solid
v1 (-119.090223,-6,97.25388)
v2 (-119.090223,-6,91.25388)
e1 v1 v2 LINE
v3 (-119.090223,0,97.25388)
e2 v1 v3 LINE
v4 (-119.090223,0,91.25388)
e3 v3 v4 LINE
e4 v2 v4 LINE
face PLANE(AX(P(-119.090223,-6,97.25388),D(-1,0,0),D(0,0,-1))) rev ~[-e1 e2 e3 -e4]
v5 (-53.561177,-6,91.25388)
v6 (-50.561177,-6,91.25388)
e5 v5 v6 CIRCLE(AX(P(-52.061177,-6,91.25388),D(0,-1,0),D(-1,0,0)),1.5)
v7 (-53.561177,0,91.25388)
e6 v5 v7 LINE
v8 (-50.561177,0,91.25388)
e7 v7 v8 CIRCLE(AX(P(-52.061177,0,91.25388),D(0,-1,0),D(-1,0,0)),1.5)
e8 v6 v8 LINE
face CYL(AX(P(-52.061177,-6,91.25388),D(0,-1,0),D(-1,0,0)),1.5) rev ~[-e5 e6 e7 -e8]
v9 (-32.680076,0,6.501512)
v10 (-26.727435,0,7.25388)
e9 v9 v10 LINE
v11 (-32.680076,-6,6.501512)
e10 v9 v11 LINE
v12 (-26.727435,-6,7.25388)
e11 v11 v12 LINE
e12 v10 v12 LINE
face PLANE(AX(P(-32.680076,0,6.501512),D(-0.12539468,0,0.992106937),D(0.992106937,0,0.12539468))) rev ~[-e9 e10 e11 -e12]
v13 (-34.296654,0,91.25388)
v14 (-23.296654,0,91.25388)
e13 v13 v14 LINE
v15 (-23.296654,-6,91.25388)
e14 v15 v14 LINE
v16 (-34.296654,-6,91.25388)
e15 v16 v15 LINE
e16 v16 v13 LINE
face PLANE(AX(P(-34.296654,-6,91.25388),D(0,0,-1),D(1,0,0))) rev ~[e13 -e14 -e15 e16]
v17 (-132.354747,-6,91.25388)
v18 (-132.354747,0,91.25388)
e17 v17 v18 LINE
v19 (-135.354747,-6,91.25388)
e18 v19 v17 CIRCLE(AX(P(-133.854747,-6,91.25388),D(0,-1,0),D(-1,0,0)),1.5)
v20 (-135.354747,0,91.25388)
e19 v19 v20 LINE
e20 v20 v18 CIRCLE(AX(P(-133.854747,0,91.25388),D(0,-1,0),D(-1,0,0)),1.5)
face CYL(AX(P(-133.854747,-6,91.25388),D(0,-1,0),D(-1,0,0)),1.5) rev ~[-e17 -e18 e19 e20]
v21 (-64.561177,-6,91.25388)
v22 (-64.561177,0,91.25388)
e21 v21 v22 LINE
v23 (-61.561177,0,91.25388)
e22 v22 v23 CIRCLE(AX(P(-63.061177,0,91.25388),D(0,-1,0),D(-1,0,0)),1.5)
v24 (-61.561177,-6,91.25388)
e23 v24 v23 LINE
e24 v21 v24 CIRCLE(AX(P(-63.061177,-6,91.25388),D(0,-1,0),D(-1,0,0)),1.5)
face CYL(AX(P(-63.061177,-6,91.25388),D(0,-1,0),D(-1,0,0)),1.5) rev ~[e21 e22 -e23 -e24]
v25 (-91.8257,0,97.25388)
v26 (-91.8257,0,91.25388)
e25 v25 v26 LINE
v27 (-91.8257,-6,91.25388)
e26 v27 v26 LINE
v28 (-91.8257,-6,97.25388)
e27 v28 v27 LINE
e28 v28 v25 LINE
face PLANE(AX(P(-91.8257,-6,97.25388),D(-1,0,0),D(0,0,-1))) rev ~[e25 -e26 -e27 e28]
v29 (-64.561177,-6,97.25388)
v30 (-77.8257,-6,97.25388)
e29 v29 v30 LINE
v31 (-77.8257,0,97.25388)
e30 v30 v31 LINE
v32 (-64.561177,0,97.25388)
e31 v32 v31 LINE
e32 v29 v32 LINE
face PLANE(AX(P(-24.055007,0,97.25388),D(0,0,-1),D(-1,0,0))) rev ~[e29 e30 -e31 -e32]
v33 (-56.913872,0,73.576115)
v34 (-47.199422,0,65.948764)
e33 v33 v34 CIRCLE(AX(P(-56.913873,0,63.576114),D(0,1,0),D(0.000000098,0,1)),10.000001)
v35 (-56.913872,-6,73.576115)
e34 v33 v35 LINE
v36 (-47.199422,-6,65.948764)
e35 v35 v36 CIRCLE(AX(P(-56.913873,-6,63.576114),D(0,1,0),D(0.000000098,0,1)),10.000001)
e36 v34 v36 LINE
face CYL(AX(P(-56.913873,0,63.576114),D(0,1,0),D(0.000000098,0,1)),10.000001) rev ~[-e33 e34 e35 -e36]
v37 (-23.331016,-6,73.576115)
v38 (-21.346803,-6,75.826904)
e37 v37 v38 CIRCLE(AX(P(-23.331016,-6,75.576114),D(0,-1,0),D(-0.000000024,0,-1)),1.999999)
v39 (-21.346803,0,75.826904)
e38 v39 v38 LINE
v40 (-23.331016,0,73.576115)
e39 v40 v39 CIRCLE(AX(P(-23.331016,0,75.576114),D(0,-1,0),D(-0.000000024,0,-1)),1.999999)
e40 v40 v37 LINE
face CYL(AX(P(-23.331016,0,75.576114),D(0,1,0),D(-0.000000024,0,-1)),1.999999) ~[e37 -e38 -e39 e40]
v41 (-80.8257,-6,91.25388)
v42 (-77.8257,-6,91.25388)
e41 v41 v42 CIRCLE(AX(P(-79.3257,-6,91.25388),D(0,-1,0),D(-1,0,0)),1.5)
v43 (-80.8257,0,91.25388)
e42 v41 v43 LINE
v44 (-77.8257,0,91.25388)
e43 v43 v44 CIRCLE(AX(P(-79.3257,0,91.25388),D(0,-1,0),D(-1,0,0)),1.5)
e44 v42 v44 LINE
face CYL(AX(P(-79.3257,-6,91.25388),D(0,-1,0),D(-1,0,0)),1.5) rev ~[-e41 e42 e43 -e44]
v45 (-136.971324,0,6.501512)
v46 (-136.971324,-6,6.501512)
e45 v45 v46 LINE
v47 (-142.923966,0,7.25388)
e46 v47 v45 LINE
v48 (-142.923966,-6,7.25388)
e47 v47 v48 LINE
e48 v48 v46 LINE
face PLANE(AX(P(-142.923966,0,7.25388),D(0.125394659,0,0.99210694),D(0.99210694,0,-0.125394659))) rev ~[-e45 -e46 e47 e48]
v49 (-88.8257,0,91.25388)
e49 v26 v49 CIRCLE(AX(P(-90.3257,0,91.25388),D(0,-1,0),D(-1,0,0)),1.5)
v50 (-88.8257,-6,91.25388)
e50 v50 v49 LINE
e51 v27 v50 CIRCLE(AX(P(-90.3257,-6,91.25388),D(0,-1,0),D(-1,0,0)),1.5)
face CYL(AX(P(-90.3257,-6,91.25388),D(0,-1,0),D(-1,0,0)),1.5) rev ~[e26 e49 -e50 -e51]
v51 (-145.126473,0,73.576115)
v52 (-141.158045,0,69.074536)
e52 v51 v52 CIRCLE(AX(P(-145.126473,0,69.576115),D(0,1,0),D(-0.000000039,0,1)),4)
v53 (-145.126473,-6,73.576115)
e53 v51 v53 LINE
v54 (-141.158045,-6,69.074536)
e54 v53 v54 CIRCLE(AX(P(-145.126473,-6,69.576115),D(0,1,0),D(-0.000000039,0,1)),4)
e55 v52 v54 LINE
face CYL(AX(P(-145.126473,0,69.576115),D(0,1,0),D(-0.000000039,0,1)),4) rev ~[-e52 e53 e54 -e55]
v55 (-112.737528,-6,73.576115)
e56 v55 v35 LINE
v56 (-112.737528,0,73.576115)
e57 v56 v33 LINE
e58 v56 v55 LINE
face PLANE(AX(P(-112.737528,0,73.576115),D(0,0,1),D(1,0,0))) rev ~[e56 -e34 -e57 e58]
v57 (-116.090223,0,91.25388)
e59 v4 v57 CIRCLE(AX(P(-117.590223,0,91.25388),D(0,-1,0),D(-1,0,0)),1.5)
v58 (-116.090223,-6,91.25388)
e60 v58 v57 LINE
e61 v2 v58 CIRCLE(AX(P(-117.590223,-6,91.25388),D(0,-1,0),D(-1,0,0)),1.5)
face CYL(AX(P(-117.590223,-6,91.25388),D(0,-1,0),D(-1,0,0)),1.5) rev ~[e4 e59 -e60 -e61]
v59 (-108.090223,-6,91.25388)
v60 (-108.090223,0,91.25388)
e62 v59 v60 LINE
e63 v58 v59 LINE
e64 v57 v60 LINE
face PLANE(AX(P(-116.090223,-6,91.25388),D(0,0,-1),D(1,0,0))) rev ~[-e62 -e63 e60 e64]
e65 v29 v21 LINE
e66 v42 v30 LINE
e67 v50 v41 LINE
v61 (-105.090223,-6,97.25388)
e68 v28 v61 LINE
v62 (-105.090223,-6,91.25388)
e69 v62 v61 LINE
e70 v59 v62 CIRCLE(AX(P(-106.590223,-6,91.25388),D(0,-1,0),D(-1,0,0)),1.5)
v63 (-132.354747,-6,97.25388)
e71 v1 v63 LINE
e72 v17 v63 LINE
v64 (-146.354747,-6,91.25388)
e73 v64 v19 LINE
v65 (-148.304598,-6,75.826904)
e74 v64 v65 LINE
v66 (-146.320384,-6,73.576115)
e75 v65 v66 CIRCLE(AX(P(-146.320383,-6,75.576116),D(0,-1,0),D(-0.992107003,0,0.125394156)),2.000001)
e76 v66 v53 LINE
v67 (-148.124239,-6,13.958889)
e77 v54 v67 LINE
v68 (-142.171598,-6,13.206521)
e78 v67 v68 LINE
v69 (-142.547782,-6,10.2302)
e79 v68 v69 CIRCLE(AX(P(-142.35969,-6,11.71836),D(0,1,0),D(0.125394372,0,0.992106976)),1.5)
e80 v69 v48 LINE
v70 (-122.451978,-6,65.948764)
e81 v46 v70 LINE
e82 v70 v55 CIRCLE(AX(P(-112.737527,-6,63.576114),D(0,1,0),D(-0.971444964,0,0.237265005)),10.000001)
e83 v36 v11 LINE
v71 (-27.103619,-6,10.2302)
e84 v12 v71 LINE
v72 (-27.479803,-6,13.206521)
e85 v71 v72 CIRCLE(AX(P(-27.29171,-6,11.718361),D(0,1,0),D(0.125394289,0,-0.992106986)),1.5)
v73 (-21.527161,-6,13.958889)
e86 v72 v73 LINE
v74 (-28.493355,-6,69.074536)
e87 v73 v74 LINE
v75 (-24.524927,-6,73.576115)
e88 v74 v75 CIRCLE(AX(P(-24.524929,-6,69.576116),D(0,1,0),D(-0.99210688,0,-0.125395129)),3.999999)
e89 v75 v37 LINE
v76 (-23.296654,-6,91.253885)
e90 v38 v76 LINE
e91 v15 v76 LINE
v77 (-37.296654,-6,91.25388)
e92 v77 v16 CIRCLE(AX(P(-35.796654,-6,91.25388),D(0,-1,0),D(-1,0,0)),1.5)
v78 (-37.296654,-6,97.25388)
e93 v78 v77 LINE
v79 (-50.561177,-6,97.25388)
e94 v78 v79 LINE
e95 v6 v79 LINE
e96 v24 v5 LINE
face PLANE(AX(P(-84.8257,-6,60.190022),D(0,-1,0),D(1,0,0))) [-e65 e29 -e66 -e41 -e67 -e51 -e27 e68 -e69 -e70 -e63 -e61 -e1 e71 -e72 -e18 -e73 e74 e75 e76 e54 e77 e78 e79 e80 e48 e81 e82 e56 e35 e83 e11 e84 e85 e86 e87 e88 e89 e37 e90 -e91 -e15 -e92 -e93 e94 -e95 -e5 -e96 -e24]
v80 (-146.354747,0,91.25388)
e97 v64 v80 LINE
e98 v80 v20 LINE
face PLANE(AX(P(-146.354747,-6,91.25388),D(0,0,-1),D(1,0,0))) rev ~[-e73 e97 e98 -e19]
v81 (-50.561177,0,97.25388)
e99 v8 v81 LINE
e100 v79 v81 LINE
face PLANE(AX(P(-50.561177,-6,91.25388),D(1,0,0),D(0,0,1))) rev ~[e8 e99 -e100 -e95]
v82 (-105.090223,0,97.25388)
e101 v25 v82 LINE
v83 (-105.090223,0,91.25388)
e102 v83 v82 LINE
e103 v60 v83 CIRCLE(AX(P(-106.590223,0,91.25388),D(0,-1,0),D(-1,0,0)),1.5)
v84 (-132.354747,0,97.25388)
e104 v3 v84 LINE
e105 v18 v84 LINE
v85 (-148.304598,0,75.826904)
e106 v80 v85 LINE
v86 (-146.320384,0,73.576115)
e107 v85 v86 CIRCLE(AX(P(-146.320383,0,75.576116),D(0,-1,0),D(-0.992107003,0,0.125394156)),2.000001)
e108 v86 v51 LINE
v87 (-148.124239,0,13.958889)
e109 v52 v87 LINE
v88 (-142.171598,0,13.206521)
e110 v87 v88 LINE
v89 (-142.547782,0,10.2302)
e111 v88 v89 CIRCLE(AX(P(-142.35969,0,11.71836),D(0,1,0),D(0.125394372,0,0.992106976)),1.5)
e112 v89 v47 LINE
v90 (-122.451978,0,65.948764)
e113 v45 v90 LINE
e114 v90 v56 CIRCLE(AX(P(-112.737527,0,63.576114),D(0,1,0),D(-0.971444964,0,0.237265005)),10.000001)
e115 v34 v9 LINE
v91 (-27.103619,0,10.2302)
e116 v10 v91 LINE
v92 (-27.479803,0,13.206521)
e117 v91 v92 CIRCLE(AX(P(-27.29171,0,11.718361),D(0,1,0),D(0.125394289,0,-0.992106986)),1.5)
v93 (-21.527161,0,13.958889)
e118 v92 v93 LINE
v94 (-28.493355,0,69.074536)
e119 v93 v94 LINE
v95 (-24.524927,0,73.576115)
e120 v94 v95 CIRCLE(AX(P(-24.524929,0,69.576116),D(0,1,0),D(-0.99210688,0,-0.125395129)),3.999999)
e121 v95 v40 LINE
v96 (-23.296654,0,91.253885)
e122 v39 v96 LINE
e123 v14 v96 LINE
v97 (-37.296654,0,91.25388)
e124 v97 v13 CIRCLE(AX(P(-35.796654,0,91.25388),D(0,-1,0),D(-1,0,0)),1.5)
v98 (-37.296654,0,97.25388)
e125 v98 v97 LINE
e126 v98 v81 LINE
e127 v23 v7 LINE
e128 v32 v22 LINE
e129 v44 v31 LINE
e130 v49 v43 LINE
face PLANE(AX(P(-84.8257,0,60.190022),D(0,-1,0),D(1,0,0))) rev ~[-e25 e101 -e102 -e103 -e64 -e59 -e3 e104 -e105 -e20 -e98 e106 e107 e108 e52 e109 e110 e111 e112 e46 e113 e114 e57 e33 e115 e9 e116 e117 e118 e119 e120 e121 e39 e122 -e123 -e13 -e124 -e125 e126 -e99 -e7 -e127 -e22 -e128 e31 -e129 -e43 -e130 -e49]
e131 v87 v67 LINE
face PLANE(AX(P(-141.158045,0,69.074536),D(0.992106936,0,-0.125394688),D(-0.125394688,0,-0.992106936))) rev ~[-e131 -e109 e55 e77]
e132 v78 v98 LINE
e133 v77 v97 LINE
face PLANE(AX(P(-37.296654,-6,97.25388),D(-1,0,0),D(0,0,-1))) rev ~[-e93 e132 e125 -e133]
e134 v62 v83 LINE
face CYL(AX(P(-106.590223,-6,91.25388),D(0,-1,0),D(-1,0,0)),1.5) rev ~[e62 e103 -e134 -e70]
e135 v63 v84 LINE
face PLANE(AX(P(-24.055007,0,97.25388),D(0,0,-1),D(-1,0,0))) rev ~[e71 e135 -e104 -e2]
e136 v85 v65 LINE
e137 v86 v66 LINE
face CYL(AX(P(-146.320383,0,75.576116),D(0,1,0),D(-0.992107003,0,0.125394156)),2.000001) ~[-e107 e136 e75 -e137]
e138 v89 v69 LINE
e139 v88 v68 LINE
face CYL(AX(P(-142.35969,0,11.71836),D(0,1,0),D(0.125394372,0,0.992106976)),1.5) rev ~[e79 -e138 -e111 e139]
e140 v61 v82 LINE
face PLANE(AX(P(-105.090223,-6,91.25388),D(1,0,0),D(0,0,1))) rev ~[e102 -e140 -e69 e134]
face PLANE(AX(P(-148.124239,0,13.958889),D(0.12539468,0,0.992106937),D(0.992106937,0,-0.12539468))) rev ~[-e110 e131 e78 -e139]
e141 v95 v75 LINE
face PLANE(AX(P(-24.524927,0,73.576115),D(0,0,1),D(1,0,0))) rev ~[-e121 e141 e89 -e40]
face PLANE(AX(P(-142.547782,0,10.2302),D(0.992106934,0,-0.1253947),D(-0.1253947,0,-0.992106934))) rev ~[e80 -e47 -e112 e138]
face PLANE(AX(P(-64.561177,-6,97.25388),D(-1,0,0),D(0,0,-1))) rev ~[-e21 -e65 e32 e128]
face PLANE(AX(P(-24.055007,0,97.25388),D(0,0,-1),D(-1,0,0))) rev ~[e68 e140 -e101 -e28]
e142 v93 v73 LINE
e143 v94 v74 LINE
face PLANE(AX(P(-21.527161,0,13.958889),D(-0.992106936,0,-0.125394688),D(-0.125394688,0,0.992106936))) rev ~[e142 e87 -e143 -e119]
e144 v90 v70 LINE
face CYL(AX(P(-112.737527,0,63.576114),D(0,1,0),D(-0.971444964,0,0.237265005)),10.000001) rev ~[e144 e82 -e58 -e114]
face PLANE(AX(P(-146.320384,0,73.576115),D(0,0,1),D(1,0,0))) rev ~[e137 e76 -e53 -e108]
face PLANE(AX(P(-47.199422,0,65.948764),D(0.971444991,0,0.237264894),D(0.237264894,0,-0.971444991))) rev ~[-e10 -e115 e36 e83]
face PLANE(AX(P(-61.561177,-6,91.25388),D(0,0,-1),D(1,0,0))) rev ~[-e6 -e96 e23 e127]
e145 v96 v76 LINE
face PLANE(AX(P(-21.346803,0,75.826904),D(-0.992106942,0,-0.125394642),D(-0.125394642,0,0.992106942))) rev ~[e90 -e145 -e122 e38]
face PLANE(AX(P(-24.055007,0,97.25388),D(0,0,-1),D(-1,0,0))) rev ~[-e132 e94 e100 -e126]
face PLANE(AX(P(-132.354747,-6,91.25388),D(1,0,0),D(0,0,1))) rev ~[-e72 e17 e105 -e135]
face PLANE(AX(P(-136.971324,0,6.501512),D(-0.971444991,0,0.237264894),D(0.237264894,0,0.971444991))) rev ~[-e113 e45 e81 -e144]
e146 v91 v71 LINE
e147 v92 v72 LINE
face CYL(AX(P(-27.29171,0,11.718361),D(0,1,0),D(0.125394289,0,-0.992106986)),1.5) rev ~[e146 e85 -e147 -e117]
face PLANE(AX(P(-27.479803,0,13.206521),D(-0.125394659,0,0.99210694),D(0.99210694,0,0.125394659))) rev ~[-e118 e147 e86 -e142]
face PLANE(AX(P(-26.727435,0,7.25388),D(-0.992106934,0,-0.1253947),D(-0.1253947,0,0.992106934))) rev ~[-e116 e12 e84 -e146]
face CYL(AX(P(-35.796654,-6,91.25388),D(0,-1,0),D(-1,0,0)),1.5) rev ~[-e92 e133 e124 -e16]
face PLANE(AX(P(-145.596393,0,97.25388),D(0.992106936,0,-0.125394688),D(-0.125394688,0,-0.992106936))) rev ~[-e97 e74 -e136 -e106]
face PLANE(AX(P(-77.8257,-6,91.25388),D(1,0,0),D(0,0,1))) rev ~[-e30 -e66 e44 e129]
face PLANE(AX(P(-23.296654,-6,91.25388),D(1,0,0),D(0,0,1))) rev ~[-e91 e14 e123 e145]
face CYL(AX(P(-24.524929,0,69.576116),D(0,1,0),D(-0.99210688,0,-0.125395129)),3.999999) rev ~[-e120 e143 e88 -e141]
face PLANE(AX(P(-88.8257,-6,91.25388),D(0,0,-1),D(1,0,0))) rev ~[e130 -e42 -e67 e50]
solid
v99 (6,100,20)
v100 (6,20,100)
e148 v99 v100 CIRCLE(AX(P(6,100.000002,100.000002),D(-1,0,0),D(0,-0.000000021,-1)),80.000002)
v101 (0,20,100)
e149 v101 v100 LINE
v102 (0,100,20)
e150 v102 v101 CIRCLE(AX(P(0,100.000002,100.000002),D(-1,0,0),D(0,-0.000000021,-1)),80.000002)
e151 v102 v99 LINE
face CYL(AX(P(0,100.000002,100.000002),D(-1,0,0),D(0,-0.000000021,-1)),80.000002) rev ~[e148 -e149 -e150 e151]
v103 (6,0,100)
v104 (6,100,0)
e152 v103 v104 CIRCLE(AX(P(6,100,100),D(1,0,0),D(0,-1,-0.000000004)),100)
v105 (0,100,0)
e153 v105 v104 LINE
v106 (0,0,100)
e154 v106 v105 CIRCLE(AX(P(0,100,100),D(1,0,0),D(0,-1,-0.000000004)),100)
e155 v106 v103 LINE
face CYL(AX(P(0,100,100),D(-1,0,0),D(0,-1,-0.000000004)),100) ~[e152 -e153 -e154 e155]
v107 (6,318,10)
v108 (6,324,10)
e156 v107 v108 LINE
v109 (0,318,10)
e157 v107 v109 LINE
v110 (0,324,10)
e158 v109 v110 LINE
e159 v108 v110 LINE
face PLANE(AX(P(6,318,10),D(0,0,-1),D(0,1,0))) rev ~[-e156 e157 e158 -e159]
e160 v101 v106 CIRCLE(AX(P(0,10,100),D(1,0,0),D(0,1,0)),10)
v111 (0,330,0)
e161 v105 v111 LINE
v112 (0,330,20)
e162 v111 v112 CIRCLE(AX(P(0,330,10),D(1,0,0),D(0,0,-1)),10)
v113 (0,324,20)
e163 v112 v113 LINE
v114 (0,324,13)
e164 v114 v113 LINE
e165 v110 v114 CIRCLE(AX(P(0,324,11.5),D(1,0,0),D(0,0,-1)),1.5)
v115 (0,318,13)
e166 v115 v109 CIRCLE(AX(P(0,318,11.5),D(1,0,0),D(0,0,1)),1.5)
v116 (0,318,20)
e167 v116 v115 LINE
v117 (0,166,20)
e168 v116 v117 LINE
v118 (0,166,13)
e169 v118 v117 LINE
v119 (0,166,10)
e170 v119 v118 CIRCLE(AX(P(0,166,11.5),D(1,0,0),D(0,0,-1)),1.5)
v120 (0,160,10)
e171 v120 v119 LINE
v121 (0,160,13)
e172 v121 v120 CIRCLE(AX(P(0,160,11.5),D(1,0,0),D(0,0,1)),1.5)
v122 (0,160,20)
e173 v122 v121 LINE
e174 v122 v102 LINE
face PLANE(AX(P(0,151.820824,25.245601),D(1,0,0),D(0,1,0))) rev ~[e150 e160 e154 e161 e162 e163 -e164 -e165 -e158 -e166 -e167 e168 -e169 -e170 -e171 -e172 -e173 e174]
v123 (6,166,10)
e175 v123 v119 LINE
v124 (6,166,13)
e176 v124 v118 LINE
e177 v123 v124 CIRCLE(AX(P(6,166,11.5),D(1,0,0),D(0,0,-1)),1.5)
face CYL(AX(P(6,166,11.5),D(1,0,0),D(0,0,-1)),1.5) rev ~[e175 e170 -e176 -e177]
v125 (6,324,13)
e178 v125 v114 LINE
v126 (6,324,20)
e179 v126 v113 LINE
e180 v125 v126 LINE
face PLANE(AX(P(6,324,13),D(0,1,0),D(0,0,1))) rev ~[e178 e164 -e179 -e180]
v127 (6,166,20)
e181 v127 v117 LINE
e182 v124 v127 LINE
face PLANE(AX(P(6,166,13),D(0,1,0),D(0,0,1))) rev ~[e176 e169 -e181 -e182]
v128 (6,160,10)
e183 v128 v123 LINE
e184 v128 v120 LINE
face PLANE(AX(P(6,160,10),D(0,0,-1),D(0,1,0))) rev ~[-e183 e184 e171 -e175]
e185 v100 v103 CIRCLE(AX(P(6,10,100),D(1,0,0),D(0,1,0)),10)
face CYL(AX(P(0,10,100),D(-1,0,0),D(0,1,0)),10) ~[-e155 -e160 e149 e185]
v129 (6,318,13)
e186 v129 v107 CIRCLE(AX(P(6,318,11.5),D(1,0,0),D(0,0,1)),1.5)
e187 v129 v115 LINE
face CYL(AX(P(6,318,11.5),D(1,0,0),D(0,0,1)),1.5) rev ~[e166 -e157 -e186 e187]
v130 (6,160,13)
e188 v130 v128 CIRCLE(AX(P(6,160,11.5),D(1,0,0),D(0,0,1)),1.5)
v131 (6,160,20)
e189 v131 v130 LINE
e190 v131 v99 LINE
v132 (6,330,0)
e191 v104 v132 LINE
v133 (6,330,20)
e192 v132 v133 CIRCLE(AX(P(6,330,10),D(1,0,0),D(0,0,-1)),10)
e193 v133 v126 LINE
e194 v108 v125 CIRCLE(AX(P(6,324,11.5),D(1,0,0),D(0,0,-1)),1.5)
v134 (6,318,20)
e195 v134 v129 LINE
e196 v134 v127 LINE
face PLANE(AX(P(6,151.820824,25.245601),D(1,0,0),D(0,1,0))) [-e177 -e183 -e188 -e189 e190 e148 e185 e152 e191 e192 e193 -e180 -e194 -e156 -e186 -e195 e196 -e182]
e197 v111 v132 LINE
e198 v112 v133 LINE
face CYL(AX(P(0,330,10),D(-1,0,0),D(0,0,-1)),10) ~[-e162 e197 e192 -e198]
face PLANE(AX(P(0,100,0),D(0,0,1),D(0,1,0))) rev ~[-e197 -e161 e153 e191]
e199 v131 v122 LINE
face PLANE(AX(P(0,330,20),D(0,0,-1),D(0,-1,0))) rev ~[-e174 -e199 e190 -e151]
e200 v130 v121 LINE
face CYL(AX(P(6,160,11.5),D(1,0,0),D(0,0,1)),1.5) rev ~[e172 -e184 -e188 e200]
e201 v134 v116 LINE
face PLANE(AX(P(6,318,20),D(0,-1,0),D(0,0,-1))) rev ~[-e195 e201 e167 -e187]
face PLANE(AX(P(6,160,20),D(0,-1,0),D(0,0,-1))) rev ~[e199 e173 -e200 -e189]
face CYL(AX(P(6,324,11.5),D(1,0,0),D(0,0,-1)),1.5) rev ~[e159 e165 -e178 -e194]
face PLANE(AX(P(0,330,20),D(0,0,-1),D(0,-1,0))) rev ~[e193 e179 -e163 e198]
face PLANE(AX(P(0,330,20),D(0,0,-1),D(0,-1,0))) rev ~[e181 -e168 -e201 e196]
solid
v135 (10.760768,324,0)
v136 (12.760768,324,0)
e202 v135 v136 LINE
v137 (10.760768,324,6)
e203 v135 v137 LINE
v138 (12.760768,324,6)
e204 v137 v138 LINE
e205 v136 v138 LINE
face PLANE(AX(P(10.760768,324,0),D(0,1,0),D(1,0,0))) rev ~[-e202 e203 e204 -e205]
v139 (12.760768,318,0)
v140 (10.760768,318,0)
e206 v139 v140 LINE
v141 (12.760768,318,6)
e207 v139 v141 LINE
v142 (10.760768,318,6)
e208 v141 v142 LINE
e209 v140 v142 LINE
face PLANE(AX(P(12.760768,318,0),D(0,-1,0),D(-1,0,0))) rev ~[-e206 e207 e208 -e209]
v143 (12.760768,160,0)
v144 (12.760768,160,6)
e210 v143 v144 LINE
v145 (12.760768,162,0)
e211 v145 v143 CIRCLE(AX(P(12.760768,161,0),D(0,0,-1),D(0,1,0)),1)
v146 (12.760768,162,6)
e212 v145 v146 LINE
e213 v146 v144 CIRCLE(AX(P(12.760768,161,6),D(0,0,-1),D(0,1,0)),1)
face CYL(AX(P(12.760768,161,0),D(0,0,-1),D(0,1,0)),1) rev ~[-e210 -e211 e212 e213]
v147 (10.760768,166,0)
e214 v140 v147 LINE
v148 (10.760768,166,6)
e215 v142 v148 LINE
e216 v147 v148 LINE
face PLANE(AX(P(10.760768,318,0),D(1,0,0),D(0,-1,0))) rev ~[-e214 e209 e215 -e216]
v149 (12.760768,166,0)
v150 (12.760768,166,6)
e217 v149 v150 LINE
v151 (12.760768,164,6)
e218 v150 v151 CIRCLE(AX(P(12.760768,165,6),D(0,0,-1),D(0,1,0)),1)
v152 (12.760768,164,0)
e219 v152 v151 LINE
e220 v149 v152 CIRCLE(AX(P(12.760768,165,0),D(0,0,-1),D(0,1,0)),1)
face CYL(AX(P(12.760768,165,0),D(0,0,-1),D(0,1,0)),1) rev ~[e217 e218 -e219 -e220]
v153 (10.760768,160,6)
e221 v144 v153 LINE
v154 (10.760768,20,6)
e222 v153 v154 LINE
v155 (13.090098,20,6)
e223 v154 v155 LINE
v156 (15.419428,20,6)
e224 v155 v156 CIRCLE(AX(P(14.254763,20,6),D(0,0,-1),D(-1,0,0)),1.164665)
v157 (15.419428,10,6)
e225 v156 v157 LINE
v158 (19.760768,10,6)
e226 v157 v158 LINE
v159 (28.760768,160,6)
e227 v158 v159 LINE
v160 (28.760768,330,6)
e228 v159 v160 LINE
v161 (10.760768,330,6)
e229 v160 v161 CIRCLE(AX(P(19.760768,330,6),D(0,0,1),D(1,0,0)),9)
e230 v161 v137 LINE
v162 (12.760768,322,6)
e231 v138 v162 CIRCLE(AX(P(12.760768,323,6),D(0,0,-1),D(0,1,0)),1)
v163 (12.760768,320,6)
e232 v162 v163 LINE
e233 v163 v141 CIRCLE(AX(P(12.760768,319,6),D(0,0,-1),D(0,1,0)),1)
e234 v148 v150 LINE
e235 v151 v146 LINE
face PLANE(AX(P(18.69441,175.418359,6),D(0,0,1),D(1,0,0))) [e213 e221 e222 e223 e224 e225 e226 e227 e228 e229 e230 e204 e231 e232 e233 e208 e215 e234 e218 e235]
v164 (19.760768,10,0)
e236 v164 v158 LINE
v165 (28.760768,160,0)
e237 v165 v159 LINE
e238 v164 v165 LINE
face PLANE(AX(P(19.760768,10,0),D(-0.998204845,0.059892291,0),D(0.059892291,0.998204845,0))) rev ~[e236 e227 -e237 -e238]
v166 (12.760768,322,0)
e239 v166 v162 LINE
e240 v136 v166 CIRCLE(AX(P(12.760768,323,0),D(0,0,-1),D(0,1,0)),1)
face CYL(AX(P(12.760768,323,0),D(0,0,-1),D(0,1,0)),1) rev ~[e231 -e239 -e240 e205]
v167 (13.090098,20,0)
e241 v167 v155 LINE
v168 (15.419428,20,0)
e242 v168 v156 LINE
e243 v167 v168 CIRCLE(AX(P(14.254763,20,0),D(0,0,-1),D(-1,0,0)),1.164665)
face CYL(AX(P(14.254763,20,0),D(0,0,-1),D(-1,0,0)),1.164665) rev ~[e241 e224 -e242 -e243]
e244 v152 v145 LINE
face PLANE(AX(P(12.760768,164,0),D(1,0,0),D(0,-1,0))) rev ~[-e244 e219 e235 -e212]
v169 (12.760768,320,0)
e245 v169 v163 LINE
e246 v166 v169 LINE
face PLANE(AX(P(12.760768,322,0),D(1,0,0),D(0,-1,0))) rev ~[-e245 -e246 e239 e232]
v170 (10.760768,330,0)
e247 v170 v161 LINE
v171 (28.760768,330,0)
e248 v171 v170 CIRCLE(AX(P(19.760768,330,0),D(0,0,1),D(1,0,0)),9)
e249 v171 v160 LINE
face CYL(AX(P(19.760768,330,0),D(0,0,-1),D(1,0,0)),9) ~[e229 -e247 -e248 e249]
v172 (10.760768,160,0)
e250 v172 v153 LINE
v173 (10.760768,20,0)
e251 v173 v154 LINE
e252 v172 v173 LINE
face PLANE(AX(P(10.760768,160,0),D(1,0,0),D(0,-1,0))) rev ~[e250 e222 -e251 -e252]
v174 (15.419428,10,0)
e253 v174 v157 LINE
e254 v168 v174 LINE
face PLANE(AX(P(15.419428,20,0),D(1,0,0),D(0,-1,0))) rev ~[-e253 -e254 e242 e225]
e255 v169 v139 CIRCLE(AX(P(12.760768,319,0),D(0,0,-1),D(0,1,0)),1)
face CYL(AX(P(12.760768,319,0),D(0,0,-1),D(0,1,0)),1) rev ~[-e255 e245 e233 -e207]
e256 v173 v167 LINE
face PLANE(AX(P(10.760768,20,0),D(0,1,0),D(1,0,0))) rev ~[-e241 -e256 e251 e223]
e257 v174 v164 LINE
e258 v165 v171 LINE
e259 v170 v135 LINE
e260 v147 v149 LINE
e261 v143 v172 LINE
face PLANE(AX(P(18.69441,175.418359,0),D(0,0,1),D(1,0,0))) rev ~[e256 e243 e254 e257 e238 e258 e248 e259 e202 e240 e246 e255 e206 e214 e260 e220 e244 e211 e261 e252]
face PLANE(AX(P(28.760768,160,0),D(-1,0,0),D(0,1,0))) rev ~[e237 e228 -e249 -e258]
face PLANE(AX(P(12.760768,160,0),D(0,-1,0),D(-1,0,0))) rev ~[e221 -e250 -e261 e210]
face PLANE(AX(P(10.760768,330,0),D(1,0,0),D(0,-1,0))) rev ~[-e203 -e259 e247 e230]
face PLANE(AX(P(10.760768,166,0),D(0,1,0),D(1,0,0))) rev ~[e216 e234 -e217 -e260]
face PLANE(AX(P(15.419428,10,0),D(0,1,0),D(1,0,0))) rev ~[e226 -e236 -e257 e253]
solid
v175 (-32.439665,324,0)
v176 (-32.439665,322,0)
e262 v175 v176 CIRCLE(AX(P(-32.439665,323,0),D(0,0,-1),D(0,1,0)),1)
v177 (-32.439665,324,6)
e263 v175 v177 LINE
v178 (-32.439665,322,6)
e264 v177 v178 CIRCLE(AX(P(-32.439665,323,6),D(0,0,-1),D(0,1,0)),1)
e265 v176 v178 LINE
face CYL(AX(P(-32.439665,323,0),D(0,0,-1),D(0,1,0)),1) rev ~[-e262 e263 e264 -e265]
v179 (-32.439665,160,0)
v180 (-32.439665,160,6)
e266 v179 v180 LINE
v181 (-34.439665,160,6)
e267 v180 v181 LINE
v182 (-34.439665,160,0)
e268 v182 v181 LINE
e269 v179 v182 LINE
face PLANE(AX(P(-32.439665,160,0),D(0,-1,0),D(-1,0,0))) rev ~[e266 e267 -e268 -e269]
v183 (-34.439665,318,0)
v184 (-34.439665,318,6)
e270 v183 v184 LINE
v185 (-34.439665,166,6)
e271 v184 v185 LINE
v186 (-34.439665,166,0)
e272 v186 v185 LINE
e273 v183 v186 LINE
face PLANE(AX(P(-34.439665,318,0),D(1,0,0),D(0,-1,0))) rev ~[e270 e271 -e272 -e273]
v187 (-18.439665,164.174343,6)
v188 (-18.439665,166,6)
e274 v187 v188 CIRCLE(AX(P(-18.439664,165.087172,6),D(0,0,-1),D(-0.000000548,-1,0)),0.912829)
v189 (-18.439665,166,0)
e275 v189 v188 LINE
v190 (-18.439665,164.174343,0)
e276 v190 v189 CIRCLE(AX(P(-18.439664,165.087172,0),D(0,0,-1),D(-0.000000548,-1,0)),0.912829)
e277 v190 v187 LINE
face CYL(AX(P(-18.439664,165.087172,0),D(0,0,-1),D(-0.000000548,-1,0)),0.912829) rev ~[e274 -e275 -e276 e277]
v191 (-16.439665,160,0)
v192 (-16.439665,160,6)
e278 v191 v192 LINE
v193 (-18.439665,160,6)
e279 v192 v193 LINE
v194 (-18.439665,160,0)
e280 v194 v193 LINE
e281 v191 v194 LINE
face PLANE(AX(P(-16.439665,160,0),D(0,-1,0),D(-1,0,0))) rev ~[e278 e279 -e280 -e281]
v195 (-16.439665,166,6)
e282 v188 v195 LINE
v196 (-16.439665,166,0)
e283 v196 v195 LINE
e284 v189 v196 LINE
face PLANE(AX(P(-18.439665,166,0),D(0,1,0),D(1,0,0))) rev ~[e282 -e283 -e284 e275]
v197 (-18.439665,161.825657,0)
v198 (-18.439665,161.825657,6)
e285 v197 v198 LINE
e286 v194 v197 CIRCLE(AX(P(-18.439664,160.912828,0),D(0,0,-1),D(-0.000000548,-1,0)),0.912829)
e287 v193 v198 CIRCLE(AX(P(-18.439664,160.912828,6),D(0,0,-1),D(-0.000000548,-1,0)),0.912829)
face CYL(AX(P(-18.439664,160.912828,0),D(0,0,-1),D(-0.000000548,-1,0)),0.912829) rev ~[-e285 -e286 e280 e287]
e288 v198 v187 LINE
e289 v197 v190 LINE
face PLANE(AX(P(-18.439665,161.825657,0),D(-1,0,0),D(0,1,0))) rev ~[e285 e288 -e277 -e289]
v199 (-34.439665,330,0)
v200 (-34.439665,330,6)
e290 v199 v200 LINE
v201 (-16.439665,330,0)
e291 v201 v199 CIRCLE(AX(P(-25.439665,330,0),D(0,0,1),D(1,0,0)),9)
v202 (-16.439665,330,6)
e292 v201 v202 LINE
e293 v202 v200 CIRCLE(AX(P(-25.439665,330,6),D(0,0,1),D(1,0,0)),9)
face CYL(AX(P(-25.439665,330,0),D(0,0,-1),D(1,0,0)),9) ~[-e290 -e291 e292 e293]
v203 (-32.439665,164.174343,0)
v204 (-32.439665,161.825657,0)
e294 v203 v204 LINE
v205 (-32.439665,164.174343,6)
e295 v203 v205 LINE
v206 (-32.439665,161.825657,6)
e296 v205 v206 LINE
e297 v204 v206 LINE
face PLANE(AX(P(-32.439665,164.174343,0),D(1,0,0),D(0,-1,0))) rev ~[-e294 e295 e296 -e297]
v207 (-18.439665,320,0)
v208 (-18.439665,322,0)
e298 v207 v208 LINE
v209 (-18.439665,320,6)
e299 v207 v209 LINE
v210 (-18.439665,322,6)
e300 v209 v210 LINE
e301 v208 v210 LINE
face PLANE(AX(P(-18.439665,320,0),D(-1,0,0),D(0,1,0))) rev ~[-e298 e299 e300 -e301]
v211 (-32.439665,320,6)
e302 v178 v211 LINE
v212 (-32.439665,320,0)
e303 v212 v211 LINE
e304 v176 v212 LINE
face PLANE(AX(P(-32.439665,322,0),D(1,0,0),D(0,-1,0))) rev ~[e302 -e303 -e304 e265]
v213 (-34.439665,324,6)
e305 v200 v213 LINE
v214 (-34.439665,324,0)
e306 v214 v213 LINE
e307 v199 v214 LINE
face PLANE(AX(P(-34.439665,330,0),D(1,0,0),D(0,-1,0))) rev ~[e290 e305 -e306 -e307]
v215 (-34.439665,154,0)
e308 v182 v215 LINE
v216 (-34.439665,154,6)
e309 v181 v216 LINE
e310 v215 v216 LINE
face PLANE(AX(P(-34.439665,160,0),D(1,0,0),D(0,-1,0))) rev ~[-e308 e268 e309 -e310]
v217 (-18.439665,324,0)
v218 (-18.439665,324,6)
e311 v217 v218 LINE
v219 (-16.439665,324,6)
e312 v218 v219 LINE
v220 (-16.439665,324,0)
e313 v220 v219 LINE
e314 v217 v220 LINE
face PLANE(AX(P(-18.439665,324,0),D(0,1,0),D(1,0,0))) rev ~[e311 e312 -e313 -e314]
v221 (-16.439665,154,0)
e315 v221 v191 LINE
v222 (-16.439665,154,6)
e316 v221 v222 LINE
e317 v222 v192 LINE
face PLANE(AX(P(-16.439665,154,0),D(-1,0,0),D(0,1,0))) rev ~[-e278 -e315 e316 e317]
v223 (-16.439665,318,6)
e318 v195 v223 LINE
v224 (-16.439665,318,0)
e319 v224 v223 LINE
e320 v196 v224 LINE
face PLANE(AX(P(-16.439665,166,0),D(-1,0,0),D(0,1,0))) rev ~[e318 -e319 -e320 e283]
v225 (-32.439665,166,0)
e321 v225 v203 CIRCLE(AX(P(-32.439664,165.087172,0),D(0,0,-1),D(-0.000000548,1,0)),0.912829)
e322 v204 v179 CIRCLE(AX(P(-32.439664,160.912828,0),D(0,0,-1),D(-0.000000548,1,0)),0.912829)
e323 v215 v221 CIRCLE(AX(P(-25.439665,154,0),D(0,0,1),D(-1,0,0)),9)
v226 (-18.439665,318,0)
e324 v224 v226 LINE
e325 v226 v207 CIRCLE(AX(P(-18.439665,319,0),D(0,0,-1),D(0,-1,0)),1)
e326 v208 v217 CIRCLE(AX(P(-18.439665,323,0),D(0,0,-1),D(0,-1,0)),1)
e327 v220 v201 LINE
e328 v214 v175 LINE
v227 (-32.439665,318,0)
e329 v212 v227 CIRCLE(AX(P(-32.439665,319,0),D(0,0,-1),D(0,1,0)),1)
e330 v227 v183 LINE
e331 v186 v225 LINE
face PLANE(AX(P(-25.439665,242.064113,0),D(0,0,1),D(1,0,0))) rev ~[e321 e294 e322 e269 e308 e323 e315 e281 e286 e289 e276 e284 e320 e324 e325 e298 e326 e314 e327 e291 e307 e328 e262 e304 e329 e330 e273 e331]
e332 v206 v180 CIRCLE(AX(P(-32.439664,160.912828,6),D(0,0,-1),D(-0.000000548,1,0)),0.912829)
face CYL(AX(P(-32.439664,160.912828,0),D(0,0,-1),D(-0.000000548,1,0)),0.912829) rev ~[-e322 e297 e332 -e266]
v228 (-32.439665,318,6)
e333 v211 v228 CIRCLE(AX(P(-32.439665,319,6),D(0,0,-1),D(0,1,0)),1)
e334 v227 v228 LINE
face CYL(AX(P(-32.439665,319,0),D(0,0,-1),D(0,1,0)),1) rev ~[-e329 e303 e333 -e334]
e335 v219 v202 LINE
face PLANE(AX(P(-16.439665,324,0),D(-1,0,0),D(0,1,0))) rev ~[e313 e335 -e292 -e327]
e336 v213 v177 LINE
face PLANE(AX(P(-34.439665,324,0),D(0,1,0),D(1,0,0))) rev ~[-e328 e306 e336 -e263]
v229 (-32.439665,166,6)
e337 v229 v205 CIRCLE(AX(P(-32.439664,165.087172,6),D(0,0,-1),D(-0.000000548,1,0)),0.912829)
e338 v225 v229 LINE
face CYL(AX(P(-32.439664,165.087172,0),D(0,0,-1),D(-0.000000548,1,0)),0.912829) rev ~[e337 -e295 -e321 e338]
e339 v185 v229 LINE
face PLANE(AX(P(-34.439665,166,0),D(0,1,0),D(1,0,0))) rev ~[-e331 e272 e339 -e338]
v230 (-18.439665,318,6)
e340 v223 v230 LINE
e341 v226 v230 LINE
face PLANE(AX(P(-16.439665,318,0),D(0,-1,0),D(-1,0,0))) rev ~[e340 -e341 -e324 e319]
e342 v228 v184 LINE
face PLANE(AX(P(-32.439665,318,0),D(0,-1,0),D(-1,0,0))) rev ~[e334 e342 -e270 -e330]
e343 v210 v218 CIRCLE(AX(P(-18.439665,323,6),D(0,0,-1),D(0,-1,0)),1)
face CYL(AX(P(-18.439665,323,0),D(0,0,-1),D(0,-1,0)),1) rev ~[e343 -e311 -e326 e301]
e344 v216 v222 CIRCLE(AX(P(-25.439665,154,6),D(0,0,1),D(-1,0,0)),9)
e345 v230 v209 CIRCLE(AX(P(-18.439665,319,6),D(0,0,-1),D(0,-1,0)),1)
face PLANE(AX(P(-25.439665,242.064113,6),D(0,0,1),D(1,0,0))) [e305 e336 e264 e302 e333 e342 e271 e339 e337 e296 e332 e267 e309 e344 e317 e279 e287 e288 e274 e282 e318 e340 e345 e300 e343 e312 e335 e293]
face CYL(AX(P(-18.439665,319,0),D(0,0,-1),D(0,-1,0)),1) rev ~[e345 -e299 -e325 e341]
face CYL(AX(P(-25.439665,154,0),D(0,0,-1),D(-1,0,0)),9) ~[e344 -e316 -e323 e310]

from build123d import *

# Parameters (mm, degrees)
F1_DEPTH  = 6
F3_DEPTH  = 6
F5_DEPTH  = 25
F7_DEPTH  = 25
F9_DEPTH  = 6
F11_DEPTH = 6


with BuildPart() as f1:
    # F0 (on Right) → F1 (new body)
    with BuildSketch(Plane.YZ):
        with BuildLine():
            Line((100, 0), (330, 0))
            ThreePointArc((330, 0), (340, 10), (330, 20))
            Line((330, 20), (100, 20))
            ThreePointArc((100, 20), (43.431458, 43.431458), (20, 100))
            ThreePointArc((20, 100), (10, 110), (0, 100))
            ThreePointArc((0, 100), (29.289322, 29.289322), (100, 0))
        make_face()
    extrude(amount=F1_DEPTH)

    # F4 (on face) → F5 (cut)
    with BuildSketch(Plane.YZ.offset(6)):
        with BuildLine():
            Line((166, 20), (160, 20))
            Line((160, 20), (160, 13))
            ThreePointArc((160, 13), (158.5, 11.5), (160, 10))
            Line((160, 10), (166, 10))
            ThreePointArc((166, 10), (167.5, 11.5), (166, 13))
            Line((166, 13), (166, 20))
        make_face()
        with BuildLine():
            Line((324, 20), (318, 20))
            Line((318, 20), (318, 13))
            ThreePointArc((318, 13), (316.5, 11.5), (318, 10))
            Line((318, 10), (324, 10))
            ThreePointArc((324, 10), (325.5, 11.5), (324, 13))
            Line((324, 13), (324, 20))
        make_face()
    extrude(amount=-F5_DEPTH, mode=Mode.SUBTRACT)


with BuildPart() as f3:
    # F2 (on Front) → F3 (new body)
    with BuildSketch(Plane.XZ):
        with BuildLine():
            Line((-47.199422, 65.948764), (-32.680076, 6.501512))
            Line((-32.680076, 6.501512), (-26.727435, 7.25388))
            Line((-26.727435, 7.25388), (-27.103619, 10.2302))
            ThreePointArc((-27.103619, 10.2302), (-28.779871, 11.530269), (-27.479803, 13.206521))
            Line((-27.479803, 13.206521), (-21.527161, 13.958889))
            Line((-21.527161, 13.958889), (-28.493355, 69.074536))
            ThreePointArc((-28.493355, 69.074536), (-27.525454, 72.22127), (-24.524927, 73.576115))
            Line((-24.524927, 73.576115), (-23.331016, 73.576115))
            ThreePointArc((-23.331016, 73.576115), (-21.830753, 74.253538), (-21.346803, 75.826904))
            Line((-21.346803, 75.826904), (-24.055007, 97.25388))
            Line((-24.055007, 97.25388), (-84.8257, 97.25388))
            Line((-84.8257, 97.25388), (-145.596393, 97.25388))
            Line((-145.596393, 97.25388), (-148.304598, 75.826904))
            ThreePointArc((-148.304598, 75.826904), (-147.820647, 74.253538), (-146.320384, 73.576115))
            Line((-146.320384, 73.576115), (-145.126473, 73.576115))
            ThreePointArc((-145.126473, 73.576115), (-142.125947, 72.22127), (-141.158045, 69.074536))
            Line((-141.158045, 69.074536), (-148.124239, 13.958889))
            Line((-148.124239, 13.958889), (-142.171598, 13.206521))
            ThreePointArc((-142.171598, 13.206521), (-140.871529, 11.530269), (-142.547782, 10.2302))
            Line((-142.547782, 10.2302), (-142.923966, 7.25388))
            Line((-142.923966, 7.25388), (-136.971324, 6.501512))
            Line((-136.971324, 6.501512), (-122.451978, 65.948764))
            ThreePointArc((-122.451978, 65.948764), (-118.913024, 71.441434), (-112.737528, 73.576115))
            Line((-112.737528, 73.576115), (-84.8257, 73.576115))
            Line((-84.8257, 73.576115), (-56.913872, 73.576115))
            ThreePointArc((-56.913872, 73.576115), (-50.738376, 71.441434), (-47.199422, 65.948764))
        make_face()
    extrude(amount=F3_DEPTH)

    # F6 (on face) → F7 (cut)
    with BuildSketch(Plane.XZ.offset(6)):
        with BuildLine():
            Line((-50.561177, 97.25388), (-64.561177, 97.25388))
            Line((-64.561177, 97.25388), (-64.561177, 91.25388))
            ThreePointArc((-64.561177, 91.25388), (-63.061177, 89.75388), (-61.561177, 91.25388))
            Line((-61.561177, 91.25388), (-53.561177, 91.25388))
            ThreePointArc((-53.561177, 91.25388), (-52.061177, 89.75388), (-50.561177, 91.25388))
            Line((-50.561177, 91.25388), (-50.561177, 97.25388))
        make_face()
        with BuildLine():
            Line((-23.296654, 97.25388), (-37.296654, 97.25388))
            Line((-37.296654, 97.25388), (-37.296654, 91.25388))
            ThreePointArc((-37.296654, 91.25388), (-35.796654, 89.75388), (-34.296654, 91.25388))
            Line((-34.296654, 91.25388), (-23.296654, 91.25388))
            Line((-23.296654, 91.25388), (-23.296654, 97.25388))
        make_face()
        with BuildLine():
            Line((-77.8257, 97.25388), (-91.8257, 97.25388))
            Line((-91.8257, 97.25388), (-91.8257, 91.25388))
            ThreePointArc((-91.8257, 91.25388), (-90.3257, 89.75388), (-88.8257, 91.25388))
            Line((-88.8257, 91.25388), (-80.8257, 91.25388))
            ThreePointArc((-80.8257, 91.25388), (-79.3257, 89.75388), (-77.8257, 91.25388))
            Line((-77.8257, 91.25388), (-77.8257, 97.25388))
        make_face()
        with BuildLine():
            Line((-105.090223, 97.25388), (-119.090223, 97.25388))
            Line((-119.090223, 97.25388), (-119.090223, 91.25388))
            ThreePointArc((-119.090223, 91.25388), (-117.590223, 89.75388), (-116.090223, 91.25388))
            Line((-116.090223, 91.25388), (-108.090223, 91.25388))
            ThreePointArc((-108.090223, 91.25388), (-106.590223, 89.75388), (-105.090223, 91.25388))
            Line((-105.090223, 91.25388), (-105.090223, 97.25388))
        make_face()
        with BuildLine():
            Line((-132.354747, 91.25388), (-132.354747, 97.25388))
            Line((-132.354747, 97.25388), (-146.354747, 97.25388))
            Line((-146.354747, 97.25388), (-146.354747, 91.25388))
            Line((-146.354747, 91.25388), (-135.354747, 91.25388))
            ThreePointArc((-135.354747, 91.25388), (-133.854747, 89.75388), (-132.354747, 91.25388))
        make_face()
    extrude(amount=-F7_DEPTH, mode=Mode.SUBTRACT)


with BuildPart() as f9:
    # F8 (on Top) → F9 (new body)
    with BuildSketch(Plane.XY):
        with BuildLine():
            ThreePointArc((-34.439665, 154), (-25.439665, 145), (-16.439665, 154))
            Line((-16.439665, 154), (-16.439665, 160))
            Line((-16.439665, 160), (-18.439665, 160))
            ThreePointArc((-18.439665, 160), (-19.352493, 160.912828), (-18.439665, 161.825657))
            Line((-18.439665, 161.825657), (-18.439665, 164.174343))
            ThreePointArc((-18.439665, 164.174343), (-19.352493, 165.087172), (-18.439665, 166))
            Line((-18.439665, 166), (-16.439665, 166))
            Line((-16.439665, 166), (-16.439665, 318))
            Line((-16.439665, 318), (-18.439665, 318))
            ThreePointArc((-18.439665, 318), (-19.439665, 319), (-18.439665, 320))
            Line((-18.439665, 320), (-18.439665, 322))
            ThreePointArc((-18.439665, 322), (-19.439665, 323), (-18.439665, 324))
            Line((-18.439665, 324), (-16.439665, 324))
            Line((-16.439665, 324), (-16.439665, 330))
            ThreePointArc((-16.439665, 330), (-25.439665, 339), (-34.439665, 330))
            Line((-34.439665, 330), (-34.439665, 324))
            Line((-34.439665, 324), (-32.439665, 324))
            ThreePointArc((-32.439665, 324), (-31.439665, 323), (-32.439665, 322))
            Line((-32.439665, 322), (-32.439665, 320))
            ThreePointArc((-32.439665, 320), (-31.439665, 319), (-32.439665, 318))
            Line((-32.439665, 318), (-34.439665, 318))
            Line((-34.439665, 318), (-34.439665, 166))
            Line((-34.439665, 166), (-32.439665, 166))
            ThreePointArc((-32.439665, 166), (-31.526836, 165.087172), (-32.439665, 164.174343))
            Line((-32.439665, 164.174343), (-32.439665, 161.825657))
            ThreePointArc((-32.439665, 161.825657), (-31.526836, 160.912828), (-32.439665, 160))
            Line((-32.439665, 160), (-34.439665, 160))
            Line((-34.439665, 160), (-34.439665, 154))
        make_face()
    extrude(amount=F9_DEPTH)


with BuildPart() as f11:
    # F10 (on Top) → F11 (new body)
    with BuildSketch(Plane.XY):
        with BuildLine():
            Line((10.760768, 160), (10.760768, 20))
            Line((10.760768, 20), (13.090098, 20))
            ThreePointArc((13.090098, 20), (14.254763, 21.164665), (15.419428, 20))
            Line((15.419428, 20), (15.419428, 10))
            Line((15.419428, 10), (19.760768, 10))
            Line((19.760768, 10), (28.760768, 160))
            Line((28.760768, 160), (28.760768, 330))
            ThreePointArc((28.760768, 330), (19.760768, 339), (10.760768, 330))
            Line((10.760768, 330), (10.760768, 324))
            Line((10.760768, 324), (12.760768, 324))
            ThreePointArc((12.760768, 324), (13.760768, 323), (12.760768, 322))
            Line((12.760768, 322), (12.760768, 320))
            ThreePointArc((12.760768, 320), (13.760768, 319), (12.760768, 318))
            Line((12.760768, 318), (10.760768, 318))
            Line((10.760768, 318), (10.760768, 166))
            Line((10.760768, 166), (12.760768, 166))
            ThreePointArc((12.760768, 166), (13.760768, 165), (12.760768, 164))
            Line((12.760768, 164), (12.760768, 162))
            ThreePointArc((12.760768, 162), (13.760768, 161), (12.760768, 160))
            Line((12.760768, 160), (10.760768, 160))
        make_face()
    extrude(amount=F11_DEPTH)


solid = Compound([f1.part, f3.part, f9.part, f11.part])
